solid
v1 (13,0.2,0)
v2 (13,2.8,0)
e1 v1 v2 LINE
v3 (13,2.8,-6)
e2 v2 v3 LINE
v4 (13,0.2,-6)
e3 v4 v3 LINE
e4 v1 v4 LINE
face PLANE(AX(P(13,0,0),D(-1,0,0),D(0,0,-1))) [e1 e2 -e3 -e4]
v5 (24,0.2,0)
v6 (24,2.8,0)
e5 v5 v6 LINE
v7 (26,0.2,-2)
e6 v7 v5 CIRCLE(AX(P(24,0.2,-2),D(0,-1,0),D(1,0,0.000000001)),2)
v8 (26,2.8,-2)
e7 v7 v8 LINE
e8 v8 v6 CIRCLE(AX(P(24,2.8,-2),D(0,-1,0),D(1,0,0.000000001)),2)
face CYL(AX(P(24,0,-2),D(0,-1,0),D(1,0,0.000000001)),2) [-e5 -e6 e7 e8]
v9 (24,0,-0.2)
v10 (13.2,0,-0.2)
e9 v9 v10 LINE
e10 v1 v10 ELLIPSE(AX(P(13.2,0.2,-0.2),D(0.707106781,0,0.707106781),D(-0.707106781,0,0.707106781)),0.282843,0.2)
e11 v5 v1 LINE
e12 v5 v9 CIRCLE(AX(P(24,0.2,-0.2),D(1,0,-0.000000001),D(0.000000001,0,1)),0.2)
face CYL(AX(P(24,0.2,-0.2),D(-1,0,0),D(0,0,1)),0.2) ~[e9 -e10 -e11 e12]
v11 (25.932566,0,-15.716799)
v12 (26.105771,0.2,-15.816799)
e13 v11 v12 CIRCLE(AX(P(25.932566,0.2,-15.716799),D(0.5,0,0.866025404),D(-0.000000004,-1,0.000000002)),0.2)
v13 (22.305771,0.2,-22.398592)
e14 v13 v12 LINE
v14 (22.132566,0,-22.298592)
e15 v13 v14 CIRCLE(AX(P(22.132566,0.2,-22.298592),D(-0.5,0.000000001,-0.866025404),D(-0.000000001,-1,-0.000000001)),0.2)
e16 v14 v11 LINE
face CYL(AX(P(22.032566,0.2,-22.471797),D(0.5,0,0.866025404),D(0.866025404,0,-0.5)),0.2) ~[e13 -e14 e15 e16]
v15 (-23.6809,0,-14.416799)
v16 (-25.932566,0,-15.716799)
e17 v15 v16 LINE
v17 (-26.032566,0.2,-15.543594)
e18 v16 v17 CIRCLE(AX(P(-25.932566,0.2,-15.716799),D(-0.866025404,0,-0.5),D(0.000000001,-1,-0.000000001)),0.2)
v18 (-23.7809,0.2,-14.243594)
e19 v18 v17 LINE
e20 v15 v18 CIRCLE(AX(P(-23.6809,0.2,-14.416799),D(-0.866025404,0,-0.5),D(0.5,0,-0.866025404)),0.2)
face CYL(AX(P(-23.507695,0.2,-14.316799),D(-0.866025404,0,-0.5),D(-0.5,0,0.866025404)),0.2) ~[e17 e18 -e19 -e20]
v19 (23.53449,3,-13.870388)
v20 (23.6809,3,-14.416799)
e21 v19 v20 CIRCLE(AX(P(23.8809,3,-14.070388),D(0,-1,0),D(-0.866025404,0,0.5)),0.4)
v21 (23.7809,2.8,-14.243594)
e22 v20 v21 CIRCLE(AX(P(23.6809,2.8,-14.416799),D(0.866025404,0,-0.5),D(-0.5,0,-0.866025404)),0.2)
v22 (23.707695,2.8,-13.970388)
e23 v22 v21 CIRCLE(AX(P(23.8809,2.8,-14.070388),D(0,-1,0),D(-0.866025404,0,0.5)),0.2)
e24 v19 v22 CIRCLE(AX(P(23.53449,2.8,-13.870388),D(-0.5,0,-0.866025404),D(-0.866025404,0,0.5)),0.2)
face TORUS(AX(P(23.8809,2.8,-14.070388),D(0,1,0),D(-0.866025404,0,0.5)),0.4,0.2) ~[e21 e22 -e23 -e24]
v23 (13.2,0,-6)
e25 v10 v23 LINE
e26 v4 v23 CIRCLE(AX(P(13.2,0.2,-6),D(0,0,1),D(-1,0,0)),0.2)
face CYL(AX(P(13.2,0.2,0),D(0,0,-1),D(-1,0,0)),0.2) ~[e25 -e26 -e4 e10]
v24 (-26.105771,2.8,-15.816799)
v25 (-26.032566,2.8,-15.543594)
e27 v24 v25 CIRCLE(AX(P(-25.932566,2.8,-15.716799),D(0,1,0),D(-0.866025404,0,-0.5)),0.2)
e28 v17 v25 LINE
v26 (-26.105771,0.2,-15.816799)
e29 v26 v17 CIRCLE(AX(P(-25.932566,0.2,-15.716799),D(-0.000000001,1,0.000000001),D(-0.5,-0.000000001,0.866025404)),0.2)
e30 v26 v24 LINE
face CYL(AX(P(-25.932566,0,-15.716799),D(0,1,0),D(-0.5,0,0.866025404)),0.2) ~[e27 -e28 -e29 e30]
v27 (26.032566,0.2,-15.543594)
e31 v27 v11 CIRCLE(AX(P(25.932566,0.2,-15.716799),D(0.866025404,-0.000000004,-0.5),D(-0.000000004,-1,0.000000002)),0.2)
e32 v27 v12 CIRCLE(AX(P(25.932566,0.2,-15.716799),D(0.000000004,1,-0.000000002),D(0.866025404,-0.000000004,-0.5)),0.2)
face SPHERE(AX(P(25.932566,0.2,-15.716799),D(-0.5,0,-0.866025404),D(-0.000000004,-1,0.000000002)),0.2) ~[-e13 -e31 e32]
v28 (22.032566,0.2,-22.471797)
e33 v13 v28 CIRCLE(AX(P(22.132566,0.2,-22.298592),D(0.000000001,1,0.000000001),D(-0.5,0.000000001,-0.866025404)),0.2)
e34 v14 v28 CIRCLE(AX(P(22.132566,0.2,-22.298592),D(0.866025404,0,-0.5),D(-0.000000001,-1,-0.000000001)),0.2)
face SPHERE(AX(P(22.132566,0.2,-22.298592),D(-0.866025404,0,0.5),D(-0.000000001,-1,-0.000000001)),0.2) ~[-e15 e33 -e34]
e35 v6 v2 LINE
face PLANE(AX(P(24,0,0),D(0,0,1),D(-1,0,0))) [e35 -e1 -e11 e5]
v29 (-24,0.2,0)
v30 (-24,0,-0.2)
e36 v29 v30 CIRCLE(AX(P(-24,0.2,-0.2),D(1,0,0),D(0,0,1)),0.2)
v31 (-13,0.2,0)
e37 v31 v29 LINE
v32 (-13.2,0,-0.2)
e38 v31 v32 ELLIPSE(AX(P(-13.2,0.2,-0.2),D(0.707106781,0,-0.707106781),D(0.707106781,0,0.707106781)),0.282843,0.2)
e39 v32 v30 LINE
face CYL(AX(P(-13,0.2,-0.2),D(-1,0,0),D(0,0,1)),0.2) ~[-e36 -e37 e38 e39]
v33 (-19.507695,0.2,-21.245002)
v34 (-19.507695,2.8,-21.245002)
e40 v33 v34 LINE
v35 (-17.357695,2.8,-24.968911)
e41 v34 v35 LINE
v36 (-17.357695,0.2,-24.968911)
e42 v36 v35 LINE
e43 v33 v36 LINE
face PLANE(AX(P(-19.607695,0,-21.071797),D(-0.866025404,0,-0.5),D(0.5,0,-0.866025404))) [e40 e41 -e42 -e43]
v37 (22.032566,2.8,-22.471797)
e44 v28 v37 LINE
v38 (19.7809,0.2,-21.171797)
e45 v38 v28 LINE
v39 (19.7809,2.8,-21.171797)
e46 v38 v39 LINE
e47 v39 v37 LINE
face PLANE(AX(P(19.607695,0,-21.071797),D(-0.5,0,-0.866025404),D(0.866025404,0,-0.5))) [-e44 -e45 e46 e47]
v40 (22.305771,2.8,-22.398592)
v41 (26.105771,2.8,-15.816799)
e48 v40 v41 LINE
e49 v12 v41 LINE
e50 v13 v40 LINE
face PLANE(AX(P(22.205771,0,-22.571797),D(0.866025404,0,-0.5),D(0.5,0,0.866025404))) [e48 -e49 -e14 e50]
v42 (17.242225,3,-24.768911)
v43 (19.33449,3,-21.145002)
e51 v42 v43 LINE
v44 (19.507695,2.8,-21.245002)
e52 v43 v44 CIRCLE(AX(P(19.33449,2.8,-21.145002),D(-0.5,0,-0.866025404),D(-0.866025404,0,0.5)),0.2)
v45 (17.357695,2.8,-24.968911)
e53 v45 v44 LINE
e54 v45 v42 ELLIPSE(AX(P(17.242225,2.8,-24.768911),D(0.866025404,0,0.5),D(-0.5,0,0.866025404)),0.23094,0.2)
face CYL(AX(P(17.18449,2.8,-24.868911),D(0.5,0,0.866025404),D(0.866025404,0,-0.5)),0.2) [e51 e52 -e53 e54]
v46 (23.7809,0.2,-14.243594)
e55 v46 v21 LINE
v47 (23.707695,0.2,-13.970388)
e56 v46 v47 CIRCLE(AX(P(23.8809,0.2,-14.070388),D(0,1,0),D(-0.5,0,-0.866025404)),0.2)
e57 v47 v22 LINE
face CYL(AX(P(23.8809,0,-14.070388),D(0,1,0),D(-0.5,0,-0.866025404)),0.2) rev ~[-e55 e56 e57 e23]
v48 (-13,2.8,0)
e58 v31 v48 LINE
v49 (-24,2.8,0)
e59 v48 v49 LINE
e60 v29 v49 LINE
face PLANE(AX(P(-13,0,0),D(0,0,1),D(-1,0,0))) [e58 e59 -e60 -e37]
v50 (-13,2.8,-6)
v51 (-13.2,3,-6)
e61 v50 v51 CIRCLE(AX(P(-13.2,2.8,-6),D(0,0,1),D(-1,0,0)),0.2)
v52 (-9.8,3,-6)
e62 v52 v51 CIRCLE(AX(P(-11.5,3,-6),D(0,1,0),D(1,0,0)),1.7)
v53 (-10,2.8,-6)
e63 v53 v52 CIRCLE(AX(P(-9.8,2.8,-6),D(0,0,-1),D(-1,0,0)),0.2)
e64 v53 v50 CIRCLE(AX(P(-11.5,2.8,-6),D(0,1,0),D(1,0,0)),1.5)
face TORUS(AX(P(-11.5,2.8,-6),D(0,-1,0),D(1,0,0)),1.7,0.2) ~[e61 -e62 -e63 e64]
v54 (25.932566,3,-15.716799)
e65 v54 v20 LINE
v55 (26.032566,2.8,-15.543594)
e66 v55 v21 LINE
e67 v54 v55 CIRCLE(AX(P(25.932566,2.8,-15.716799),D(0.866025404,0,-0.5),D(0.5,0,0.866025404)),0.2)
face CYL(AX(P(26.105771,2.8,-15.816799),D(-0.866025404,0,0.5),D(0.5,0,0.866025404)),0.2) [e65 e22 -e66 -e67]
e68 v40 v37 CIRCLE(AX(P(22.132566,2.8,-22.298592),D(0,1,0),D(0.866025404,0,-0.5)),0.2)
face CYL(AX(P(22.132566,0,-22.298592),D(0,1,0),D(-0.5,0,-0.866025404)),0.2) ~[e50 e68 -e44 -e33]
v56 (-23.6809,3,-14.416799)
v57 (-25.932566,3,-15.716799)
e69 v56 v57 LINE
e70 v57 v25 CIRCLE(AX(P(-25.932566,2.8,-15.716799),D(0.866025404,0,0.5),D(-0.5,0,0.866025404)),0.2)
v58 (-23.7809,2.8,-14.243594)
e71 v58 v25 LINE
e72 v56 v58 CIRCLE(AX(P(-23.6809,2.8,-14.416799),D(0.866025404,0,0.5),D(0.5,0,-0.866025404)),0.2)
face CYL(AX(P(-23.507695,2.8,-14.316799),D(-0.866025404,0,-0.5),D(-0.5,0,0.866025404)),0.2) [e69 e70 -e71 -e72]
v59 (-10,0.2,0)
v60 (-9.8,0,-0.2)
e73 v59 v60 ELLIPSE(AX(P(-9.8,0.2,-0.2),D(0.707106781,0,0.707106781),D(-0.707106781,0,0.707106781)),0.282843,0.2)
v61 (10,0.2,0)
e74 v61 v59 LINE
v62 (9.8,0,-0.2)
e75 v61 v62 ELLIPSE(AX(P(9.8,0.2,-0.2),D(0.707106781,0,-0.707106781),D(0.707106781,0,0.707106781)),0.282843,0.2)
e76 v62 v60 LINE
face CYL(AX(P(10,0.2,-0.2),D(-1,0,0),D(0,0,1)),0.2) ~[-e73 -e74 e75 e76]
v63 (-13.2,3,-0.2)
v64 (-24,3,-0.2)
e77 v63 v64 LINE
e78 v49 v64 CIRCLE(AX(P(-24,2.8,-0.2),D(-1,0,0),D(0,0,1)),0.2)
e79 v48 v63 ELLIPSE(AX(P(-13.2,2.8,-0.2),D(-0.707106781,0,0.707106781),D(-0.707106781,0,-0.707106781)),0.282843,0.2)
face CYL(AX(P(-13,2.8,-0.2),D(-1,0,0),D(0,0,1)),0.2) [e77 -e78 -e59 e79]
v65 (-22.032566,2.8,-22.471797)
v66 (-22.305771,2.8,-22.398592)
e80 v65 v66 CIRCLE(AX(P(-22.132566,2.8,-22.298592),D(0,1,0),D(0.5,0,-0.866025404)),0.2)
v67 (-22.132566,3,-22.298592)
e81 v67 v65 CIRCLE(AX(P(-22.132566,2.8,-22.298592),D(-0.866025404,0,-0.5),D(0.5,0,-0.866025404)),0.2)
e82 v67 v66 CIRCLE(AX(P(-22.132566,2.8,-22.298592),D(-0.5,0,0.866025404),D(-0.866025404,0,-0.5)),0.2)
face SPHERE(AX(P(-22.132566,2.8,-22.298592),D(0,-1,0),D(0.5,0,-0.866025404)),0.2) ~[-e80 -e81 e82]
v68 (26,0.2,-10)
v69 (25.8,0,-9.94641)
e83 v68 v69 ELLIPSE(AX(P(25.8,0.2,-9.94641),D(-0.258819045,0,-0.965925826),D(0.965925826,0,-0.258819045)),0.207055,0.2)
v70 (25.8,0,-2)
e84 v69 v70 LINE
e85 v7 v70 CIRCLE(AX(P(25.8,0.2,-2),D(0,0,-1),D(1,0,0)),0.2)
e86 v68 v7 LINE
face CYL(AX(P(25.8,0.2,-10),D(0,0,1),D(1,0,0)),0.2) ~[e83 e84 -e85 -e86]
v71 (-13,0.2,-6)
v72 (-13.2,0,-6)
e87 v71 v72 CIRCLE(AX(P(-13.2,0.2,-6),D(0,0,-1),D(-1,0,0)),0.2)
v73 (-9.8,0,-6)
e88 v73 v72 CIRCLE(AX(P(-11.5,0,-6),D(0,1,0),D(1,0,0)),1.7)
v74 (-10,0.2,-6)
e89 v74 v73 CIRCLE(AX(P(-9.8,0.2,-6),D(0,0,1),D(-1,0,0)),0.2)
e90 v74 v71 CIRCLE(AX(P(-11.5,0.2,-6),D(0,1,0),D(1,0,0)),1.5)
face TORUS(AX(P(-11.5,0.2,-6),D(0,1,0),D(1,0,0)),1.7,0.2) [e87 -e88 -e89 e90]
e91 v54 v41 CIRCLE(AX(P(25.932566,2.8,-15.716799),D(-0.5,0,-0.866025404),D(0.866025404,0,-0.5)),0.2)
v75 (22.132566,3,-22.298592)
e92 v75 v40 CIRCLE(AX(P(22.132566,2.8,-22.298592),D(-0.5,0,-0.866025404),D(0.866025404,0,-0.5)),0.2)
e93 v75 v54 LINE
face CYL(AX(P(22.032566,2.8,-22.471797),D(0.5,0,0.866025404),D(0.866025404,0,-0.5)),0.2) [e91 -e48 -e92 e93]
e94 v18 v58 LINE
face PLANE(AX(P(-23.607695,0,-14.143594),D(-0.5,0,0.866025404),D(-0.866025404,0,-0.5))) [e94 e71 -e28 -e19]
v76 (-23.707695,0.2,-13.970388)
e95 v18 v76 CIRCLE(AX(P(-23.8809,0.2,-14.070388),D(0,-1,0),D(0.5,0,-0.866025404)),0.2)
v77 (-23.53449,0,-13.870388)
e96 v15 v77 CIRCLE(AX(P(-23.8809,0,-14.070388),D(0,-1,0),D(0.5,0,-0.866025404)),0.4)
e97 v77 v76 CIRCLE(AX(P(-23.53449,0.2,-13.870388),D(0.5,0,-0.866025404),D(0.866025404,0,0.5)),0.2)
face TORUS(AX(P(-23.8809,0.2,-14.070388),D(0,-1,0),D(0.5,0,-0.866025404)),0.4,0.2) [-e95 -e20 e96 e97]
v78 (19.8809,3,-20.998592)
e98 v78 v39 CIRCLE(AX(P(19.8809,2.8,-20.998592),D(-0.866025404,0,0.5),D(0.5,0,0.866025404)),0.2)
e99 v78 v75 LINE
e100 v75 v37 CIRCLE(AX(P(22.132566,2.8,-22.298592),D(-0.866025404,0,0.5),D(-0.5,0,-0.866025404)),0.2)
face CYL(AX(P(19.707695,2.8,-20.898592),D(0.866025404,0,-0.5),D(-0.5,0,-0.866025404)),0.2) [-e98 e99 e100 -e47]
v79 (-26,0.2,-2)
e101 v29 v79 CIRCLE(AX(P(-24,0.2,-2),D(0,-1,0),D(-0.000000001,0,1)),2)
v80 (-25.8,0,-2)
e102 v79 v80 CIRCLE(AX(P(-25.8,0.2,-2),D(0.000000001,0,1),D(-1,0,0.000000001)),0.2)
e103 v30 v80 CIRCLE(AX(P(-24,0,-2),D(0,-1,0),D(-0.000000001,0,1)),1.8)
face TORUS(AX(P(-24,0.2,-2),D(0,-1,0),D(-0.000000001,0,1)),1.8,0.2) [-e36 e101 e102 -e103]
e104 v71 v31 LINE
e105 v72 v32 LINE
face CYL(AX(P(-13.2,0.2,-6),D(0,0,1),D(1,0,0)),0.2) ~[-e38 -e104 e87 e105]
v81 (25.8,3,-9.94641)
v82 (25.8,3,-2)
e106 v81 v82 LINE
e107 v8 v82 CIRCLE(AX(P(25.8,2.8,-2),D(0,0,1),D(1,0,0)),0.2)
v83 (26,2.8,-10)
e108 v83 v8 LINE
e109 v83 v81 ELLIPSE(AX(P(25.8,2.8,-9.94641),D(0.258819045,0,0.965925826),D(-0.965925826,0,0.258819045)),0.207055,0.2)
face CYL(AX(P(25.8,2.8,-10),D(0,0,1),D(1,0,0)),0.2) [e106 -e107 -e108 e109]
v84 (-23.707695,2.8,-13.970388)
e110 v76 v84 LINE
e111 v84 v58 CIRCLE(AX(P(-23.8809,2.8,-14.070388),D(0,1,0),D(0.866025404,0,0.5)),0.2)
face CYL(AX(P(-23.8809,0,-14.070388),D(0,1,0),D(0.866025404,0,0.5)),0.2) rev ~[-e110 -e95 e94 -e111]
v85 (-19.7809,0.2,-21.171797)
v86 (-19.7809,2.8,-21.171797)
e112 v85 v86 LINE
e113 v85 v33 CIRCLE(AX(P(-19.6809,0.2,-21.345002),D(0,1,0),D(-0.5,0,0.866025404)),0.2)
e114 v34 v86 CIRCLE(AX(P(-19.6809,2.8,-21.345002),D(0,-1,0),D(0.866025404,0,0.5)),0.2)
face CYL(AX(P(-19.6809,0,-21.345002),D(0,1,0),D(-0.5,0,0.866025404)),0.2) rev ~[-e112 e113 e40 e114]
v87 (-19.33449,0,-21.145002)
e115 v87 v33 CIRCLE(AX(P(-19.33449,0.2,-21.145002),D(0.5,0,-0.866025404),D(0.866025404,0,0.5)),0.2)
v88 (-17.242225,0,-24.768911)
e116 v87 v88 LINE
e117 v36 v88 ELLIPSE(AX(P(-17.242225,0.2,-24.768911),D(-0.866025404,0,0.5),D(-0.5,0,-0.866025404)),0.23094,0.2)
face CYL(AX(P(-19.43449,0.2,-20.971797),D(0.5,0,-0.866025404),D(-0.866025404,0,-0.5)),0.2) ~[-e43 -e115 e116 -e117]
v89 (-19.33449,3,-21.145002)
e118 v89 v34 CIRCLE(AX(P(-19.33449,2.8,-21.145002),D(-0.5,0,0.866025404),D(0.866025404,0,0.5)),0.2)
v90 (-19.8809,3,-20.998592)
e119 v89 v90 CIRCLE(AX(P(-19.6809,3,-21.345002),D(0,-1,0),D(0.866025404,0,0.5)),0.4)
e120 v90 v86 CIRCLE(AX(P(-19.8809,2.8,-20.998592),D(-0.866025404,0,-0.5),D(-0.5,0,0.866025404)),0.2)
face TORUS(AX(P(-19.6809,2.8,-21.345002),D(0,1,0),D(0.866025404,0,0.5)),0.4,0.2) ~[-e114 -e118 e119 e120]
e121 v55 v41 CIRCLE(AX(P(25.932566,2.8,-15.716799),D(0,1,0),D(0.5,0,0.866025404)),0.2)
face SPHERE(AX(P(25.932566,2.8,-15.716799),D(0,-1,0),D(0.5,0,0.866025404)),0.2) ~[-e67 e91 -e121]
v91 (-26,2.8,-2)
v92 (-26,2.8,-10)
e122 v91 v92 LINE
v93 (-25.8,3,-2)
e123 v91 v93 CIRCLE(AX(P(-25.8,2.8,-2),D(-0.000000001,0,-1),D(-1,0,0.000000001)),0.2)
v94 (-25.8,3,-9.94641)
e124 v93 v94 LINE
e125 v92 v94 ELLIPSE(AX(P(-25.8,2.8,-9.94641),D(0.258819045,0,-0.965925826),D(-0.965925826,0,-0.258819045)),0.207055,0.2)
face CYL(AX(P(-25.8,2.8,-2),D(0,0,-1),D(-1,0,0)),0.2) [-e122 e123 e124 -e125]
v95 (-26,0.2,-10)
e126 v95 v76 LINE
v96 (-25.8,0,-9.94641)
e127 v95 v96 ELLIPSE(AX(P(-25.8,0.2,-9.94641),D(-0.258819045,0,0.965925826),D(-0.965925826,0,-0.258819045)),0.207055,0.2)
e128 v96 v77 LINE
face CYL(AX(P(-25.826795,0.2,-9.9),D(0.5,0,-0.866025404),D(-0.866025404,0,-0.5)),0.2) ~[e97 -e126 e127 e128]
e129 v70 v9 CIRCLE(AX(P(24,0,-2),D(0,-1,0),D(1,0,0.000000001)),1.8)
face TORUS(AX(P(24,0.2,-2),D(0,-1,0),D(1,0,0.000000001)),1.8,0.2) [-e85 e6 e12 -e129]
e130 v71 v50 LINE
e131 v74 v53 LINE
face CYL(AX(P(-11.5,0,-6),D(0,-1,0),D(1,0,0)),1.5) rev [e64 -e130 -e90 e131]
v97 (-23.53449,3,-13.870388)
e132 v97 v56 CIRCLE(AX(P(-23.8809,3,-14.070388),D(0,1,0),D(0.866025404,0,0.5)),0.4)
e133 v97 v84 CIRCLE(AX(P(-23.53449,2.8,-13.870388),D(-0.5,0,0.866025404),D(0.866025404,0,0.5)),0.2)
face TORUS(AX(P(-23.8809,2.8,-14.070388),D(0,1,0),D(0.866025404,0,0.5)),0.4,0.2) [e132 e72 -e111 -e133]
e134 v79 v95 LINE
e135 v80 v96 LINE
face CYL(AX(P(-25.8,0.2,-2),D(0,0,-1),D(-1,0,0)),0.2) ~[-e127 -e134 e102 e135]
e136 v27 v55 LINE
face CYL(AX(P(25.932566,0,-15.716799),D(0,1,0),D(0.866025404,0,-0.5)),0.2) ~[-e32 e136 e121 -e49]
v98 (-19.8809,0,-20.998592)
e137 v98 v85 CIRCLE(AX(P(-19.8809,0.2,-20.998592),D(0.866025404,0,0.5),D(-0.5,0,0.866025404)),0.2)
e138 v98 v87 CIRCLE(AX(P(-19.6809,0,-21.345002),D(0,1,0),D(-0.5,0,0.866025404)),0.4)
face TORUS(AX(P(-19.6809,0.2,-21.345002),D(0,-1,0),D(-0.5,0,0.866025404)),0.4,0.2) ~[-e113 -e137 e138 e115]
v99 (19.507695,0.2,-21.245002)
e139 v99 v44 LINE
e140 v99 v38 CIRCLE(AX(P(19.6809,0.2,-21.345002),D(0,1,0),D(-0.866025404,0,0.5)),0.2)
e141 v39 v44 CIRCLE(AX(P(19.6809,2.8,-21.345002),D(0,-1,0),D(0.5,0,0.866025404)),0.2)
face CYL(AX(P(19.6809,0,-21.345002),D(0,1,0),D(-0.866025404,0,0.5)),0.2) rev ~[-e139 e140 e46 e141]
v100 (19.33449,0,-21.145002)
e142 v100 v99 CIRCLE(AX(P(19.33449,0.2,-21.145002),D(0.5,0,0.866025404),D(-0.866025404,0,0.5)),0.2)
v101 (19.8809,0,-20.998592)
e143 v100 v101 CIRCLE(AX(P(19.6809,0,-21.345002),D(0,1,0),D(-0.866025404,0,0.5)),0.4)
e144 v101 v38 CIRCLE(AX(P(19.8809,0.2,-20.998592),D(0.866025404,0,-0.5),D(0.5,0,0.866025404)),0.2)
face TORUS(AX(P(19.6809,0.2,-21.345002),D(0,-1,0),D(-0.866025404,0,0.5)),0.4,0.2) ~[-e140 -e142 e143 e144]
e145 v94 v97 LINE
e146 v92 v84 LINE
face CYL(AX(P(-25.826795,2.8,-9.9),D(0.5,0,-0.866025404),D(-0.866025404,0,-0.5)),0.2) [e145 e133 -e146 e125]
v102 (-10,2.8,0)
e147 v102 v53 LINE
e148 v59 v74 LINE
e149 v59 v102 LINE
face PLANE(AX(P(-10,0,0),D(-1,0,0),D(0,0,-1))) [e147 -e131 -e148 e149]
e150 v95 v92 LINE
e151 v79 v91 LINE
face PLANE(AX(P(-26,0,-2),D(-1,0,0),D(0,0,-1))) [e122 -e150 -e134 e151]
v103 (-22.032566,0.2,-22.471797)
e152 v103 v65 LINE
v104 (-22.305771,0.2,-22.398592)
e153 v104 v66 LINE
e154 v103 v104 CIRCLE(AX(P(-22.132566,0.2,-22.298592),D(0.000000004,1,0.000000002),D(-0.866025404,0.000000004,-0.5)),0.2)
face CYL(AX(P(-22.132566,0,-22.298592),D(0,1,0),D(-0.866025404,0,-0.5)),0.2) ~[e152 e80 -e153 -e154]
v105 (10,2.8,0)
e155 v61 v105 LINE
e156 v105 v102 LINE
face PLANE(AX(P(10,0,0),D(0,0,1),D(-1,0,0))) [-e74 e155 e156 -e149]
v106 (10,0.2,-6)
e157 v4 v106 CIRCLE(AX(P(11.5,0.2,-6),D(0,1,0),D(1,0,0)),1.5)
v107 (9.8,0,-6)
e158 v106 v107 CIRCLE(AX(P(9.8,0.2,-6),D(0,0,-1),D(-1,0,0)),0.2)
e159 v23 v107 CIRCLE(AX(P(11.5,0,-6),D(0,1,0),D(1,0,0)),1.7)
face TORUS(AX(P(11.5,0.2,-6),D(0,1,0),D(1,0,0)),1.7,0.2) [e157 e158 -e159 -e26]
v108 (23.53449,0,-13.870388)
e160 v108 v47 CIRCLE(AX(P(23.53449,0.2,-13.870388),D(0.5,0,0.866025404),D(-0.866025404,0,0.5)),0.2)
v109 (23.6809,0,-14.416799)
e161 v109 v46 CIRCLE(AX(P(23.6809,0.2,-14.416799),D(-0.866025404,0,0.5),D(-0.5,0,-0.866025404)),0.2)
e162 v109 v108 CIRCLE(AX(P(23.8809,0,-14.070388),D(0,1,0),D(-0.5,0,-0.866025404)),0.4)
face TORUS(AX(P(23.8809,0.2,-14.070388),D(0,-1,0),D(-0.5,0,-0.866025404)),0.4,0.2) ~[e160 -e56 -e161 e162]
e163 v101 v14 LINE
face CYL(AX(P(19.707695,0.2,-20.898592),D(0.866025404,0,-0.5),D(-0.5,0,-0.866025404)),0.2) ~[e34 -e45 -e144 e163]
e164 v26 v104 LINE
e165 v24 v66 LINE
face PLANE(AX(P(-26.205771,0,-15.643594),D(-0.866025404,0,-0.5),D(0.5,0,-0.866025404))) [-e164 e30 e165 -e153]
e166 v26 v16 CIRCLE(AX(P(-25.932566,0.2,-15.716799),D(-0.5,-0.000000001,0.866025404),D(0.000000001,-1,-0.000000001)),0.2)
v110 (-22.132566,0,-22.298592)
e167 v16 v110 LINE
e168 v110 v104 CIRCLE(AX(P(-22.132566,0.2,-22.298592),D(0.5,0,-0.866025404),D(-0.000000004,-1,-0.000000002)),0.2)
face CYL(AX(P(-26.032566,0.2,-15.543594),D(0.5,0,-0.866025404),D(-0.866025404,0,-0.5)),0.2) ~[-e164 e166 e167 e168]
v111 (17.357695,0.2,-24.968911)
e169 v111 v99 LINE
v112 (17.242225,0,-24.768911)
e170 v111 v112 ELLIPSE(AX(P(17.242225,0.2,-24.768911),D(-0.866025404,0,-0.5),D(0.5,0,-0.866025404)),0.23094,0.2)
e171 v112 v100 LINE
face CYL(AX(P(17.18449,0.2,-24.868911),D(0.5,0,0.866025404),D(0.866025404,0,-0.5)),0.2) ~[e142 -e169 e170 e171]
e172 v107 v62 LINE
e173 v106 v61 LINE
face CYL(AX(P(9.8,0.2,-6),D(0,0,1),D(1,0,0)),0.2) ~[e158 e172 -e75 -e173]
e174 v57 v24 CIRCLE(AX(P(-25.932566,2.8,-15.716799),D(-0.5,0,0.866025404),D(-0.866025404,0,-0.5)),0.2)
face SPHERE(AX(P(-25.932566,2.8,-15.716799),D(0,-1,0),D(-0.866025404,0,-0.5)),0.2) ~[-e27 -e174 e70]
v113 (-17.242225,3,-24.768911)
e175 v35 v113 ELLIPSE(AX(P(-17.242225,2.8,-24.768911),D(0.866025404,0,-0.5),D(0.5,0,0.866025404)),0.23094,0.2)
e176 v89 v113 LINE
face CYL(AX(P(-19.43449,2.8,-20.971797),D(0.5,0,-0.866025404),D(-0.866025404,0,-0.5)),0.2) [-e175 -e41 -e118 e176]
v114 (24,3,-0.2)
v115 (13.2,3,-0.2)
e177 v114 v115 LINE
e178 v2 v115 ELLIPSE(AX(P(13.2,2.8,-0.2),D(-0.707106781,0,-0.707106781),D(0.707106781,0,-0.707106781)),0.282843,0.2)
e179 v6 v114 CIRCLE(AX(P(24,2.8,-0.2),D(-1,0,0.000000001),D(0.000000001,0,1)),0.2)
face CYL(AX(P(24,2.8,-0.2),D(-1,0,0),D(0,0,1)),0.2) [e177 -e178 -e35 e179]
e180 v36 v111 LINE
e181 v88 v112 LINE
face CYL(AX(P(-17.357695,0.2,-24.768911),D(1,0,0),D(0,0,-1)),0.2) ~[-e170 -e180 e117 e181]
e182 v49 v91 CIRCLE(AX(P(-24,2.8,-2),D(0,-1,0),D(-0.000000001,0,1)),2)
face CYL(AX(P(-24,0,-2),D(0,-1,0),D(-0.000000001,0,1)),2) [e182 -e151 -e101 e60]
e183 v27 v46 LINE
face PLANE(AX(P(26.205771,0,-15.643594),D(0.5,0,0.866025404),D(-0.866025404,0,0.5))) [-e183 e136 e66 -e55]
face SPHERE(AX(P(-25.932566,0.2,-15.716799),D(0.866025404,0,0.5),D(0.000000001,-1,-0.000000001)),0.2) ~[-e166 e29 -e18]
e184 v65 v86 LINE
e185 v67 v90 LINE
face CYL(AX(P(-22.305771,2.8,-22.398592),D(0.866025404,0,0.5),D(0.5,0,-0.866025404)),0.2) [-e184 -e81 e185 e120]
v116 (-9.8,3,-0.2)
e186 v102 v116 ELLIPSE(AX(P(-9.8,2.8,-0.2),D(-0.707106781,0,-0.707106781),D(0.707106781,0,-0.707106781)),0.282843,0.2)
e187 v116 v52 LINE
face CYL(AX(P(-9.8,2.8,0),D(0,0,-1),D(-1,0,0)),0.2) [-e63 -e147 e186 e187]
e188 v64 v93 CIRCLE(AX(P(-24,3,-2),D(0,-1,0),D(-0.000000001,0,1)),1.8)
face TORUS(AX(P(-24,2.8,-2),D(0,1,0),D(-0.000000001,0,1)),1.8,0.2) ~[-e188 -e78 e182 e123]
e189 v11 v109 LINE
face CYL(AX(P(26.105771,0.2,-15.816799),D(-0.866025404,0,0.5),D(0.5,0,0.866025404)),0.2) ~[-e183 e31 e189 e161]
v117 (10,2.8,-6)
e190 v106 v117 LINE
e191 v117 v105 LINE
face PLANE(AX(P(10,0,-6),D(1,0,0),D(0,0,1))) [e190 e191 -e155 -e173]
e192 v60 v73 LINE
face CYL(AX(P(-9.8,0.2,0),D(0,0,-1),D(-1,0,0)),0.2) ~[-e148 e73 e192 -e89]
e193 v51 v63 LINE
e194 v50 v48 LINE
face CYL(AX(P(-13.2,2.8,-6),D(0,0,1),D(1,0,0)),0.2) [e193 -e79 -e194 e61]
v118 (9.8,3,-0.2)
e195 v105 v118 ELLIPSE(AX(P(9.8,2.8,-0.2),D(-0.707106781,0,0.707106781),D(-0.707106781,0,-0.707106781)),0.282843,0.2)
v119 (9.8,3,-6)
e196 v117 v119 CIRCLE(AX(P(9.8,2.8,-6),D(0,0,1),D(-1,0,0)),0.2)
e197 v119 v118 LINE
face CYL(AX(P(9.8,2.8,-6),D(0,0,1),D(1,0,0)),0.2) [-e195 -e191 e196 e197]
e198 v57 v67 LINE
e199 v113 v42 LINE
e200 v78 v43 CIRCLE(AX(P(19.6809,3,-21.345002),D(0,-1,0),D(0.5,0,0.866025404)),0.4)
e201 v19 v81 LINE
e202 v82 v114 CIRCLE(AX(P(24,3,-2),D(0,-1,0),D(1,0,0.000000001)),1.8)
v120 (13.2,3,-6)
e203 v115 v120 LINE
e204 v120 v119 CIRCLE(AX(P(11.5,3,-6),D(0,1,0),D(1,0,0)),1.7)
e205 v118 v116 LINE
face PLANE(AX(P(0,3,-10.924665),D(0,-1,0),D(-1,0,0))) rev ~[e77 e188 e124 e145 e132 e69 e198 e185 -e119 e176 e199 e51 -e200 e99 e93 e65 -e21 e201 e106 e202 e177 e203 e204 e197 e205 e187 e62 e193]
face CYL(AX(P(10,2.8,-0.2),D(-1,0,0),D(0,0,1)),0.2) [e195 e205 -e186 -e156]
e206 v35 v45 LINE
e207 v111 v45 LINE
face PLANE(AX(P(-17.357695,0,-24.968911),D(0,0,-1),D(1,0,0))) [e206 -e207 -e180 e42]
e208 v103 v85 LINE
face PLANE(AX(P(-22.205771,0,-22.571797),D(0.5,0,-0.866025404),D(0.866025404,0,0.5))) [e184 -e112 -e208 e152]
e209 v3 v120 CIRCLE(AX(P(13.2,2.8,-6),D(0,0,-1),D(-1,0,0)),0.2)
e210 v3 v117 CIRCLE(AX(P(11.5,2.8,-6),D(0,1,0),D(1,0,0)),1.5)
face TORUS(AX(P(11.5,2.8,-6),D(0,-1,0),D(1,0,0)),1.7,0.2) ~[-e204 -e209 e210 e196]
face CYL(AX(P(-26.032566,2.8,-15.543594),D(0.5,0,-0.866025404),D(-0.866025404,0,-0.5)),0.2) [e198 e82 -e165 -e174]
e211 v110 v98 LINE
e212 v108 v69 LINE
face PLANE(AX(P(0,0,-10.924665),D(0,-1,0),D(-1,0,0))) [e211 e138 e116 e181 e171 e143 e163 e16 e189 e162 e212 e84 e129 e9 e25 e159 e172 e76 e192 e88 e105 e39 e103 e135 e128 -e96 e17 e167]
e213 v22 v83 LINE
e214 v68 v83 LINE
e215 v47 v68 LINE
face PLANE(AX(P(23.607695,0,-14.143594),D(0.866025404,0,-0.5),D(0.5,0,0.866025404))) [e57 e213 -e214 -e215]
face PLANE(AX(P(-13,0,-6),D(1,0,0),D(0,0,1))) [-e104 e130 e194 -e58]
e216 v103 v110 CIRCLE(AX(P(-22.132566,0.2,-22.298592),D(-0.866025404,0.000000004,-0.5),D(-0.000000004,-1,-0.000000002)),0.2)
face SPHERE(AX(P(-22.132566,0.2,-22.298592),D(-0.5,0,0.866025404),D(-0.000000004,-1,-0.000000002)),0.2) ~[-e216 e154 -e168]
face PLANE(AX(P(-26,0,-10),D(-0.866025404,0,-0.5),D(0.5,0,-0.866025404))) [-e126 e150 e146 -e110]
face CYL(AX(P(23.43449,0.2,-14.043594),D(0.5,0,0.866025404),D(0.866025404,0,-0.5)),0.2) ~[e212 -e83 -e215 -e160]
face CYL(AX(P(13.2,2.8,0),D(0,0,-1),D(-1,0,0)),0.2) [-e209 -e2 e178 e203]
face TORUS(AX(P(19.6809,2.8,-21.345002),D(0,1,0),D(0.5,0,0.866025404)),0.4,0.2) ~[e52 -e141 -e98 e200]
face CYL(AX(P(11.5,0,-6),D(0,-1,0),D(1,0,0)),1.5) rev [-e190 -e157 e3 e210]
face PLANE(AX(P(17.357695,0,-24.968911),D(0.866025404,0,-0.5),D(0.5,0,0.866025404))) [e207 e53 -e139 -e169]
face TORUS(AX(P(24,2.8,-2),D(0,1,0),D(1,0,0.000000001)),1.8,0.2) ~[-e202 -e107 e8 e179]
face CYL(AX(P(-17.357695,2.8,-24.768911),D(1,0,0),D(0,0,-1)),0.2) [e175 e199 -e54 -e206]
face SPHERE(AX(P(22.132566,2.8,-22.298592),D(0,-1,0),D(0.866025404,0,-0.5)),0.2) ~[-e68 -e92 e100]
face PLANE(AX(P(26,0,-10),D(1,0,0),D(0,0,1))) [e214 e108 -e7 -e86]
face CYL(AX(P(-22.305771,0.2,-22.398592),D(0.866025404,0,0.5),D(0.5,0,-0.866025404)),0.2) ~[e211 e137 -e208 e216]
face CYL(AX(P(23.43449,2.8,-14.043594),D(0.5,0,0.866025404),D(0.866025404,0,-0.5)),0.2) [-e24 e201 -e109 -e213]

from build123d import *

# Parameters (mm, degrees)
BOSS_EXTRUDE1_DEPTH = 3
FILLET1_R           = 0.2


with BuildPart() as part:
    # Sketch1 → Boss-Extrude1 (new body)
    with BuildSketch(Plane(origin=(0, 0, 0), x_dir=(1, 0, 0), z_dir=(0, 1, 0))):
        with BuildLine():
            Line((10, 0), (-10, 0))
            Line((-10, 0), (-10, 6))
            ThreePointArc((-10, 6), (-11.5, 7.5), (-13, 6))
            Line((-13, 6), (-13, 0))
            Line((-13, 0), (-24, 0))
            ThreePointArc((-24, 0), (-25.414213562, 0.585786438), (-26, 2))
            Line((-26, 2), (-26, 10))
            Line((-26, 10), (-23.607695155, 14.143593539))
            Line((-23.607695155, 14.143593539), (-26.205771366, 15.643593539))
            Line((-26.205771366, 15.643593539), (-22.205771366, 22.57179677))
            Line((-22.205771366, 22.57179677), (-19.607695155, 21.07179677))
            Line((-19.607695155, 21.07179677), (-17.357695155, 24.968911087))
            Line((-17.357695155, 24.968911087), (17.357695155, 24.968911087))
            Line((17.357695155, 24.968911087), (19.607695155, 21.07179677))
            Line((19.607695155, 21.07179677), (22.205771366, 22.57179677))
            Line((22.205771366, 22.57179677), (26.205771366, 15.643593539))
            Line((26.205771366, 15.643593539), (23.607695155, 14.143593539))
            Line((23.607695155, 14.143593539), (26, 10))
            Line((26, 10), (26, 2))
            ThreePointArc((26, 2), (25.414213562, 0.585786438), (24, 0))
            Line((24, 0), (13, 0))
            Line((13, 0), (13, 6))
            ThreePointArc((13, 6), (11.5, 7.5), (10, 6))
            Line((10, 6), (10, 0))
        make_face()
    extrude(amount=BOSS_EXTRUDE1_DEPTH)

    # Fillet1
    fillet1_edges = [part.edges().sort_by_distance(p)[0] for p in [
        (-25.414213562, 3, -0.585786438),
        (-18.5, 3, 0),
        (-13, 3, -3),
        (-11.5, 3, -7.5),
        (-24.90673326, 0, -14.893593539),
        (-24.205771366, 0, -19.107695155),
        (-20.90673326, 0, -21.82179677),
        (-18.482695155, 0, -23.020353928),
        (-10, 3, -3),
        (0, 0, -24.968911087),
        (18.482695155, 0, -23.020353928),
        (20.90673326, 0, -21.82179677),
        (24.205771366, 0, -19.107695155),
        (24.90673326, 0, -14.893593539),
        (24.803847577, 0, -12.07179677),
        (26, 0, -6),
        (25.414213562, 0, -0.585786438),
        (0, 3, 0),
        (18.5, 0, 0),
        (13, 0, -3),
        (11.5, 0, -7.5),
        (10, 0, -3),
        (0, 0, 0),
        (-10, 0, -3),
        (-11.5, 0, -7.5),
        (10, 3, -3),
        (-13, 0, -3),
        (-18.5, 0, 0),
        (-25.414213562, 0, -0.585786438),
        (-26, 0, -6),
        (-24.803847577, 0, -12.07179677),
        (11.5, 3, -7.5),
        (13, 3, -3),
        (18.5, 3, 0),
        (-23.607695155, 1.5, -14.143593539),
        (-26.205771366, 1.5, -15.643593539),
        (-22.205771366, 1.5, -22.57179677),
        (-19.607695155, 1.5, -21.07179677),
        (19.607695155, 1.5, -21.07179677),
        (22.205771366, 1.5, -22.57179677),
        (26.205771366, 1.5, -15.643593539),
        (23.607695155, 1.5, -14.143593539),
        (-24.803847577, 3, -12.07179677),
        (25.414213562, 3, -0.585786438),
        (26, 3, -6),
        (24.803847577, 3, -12.07179677),
        (24.90673326, 3, -14.893593539),
        (24.205771366, 3, -19.107695155),
        (20.90673326, 3, -21.82179677),
        (18.482695155, 3, -23.020353928),
        (0, 3, -24.968911087),
        (-18.482695155, 3, -23.020353928),
        (-20.90673326, 3, -21.82179677),
        (-26, 3, -6),
        (-24.205771366, 3, -19.107695155),
        (-24.90673326, 3, -14.893593539),
    ]]
    fillet(fillet1_edges, radius=FILLET1_R)


solid = part.part
